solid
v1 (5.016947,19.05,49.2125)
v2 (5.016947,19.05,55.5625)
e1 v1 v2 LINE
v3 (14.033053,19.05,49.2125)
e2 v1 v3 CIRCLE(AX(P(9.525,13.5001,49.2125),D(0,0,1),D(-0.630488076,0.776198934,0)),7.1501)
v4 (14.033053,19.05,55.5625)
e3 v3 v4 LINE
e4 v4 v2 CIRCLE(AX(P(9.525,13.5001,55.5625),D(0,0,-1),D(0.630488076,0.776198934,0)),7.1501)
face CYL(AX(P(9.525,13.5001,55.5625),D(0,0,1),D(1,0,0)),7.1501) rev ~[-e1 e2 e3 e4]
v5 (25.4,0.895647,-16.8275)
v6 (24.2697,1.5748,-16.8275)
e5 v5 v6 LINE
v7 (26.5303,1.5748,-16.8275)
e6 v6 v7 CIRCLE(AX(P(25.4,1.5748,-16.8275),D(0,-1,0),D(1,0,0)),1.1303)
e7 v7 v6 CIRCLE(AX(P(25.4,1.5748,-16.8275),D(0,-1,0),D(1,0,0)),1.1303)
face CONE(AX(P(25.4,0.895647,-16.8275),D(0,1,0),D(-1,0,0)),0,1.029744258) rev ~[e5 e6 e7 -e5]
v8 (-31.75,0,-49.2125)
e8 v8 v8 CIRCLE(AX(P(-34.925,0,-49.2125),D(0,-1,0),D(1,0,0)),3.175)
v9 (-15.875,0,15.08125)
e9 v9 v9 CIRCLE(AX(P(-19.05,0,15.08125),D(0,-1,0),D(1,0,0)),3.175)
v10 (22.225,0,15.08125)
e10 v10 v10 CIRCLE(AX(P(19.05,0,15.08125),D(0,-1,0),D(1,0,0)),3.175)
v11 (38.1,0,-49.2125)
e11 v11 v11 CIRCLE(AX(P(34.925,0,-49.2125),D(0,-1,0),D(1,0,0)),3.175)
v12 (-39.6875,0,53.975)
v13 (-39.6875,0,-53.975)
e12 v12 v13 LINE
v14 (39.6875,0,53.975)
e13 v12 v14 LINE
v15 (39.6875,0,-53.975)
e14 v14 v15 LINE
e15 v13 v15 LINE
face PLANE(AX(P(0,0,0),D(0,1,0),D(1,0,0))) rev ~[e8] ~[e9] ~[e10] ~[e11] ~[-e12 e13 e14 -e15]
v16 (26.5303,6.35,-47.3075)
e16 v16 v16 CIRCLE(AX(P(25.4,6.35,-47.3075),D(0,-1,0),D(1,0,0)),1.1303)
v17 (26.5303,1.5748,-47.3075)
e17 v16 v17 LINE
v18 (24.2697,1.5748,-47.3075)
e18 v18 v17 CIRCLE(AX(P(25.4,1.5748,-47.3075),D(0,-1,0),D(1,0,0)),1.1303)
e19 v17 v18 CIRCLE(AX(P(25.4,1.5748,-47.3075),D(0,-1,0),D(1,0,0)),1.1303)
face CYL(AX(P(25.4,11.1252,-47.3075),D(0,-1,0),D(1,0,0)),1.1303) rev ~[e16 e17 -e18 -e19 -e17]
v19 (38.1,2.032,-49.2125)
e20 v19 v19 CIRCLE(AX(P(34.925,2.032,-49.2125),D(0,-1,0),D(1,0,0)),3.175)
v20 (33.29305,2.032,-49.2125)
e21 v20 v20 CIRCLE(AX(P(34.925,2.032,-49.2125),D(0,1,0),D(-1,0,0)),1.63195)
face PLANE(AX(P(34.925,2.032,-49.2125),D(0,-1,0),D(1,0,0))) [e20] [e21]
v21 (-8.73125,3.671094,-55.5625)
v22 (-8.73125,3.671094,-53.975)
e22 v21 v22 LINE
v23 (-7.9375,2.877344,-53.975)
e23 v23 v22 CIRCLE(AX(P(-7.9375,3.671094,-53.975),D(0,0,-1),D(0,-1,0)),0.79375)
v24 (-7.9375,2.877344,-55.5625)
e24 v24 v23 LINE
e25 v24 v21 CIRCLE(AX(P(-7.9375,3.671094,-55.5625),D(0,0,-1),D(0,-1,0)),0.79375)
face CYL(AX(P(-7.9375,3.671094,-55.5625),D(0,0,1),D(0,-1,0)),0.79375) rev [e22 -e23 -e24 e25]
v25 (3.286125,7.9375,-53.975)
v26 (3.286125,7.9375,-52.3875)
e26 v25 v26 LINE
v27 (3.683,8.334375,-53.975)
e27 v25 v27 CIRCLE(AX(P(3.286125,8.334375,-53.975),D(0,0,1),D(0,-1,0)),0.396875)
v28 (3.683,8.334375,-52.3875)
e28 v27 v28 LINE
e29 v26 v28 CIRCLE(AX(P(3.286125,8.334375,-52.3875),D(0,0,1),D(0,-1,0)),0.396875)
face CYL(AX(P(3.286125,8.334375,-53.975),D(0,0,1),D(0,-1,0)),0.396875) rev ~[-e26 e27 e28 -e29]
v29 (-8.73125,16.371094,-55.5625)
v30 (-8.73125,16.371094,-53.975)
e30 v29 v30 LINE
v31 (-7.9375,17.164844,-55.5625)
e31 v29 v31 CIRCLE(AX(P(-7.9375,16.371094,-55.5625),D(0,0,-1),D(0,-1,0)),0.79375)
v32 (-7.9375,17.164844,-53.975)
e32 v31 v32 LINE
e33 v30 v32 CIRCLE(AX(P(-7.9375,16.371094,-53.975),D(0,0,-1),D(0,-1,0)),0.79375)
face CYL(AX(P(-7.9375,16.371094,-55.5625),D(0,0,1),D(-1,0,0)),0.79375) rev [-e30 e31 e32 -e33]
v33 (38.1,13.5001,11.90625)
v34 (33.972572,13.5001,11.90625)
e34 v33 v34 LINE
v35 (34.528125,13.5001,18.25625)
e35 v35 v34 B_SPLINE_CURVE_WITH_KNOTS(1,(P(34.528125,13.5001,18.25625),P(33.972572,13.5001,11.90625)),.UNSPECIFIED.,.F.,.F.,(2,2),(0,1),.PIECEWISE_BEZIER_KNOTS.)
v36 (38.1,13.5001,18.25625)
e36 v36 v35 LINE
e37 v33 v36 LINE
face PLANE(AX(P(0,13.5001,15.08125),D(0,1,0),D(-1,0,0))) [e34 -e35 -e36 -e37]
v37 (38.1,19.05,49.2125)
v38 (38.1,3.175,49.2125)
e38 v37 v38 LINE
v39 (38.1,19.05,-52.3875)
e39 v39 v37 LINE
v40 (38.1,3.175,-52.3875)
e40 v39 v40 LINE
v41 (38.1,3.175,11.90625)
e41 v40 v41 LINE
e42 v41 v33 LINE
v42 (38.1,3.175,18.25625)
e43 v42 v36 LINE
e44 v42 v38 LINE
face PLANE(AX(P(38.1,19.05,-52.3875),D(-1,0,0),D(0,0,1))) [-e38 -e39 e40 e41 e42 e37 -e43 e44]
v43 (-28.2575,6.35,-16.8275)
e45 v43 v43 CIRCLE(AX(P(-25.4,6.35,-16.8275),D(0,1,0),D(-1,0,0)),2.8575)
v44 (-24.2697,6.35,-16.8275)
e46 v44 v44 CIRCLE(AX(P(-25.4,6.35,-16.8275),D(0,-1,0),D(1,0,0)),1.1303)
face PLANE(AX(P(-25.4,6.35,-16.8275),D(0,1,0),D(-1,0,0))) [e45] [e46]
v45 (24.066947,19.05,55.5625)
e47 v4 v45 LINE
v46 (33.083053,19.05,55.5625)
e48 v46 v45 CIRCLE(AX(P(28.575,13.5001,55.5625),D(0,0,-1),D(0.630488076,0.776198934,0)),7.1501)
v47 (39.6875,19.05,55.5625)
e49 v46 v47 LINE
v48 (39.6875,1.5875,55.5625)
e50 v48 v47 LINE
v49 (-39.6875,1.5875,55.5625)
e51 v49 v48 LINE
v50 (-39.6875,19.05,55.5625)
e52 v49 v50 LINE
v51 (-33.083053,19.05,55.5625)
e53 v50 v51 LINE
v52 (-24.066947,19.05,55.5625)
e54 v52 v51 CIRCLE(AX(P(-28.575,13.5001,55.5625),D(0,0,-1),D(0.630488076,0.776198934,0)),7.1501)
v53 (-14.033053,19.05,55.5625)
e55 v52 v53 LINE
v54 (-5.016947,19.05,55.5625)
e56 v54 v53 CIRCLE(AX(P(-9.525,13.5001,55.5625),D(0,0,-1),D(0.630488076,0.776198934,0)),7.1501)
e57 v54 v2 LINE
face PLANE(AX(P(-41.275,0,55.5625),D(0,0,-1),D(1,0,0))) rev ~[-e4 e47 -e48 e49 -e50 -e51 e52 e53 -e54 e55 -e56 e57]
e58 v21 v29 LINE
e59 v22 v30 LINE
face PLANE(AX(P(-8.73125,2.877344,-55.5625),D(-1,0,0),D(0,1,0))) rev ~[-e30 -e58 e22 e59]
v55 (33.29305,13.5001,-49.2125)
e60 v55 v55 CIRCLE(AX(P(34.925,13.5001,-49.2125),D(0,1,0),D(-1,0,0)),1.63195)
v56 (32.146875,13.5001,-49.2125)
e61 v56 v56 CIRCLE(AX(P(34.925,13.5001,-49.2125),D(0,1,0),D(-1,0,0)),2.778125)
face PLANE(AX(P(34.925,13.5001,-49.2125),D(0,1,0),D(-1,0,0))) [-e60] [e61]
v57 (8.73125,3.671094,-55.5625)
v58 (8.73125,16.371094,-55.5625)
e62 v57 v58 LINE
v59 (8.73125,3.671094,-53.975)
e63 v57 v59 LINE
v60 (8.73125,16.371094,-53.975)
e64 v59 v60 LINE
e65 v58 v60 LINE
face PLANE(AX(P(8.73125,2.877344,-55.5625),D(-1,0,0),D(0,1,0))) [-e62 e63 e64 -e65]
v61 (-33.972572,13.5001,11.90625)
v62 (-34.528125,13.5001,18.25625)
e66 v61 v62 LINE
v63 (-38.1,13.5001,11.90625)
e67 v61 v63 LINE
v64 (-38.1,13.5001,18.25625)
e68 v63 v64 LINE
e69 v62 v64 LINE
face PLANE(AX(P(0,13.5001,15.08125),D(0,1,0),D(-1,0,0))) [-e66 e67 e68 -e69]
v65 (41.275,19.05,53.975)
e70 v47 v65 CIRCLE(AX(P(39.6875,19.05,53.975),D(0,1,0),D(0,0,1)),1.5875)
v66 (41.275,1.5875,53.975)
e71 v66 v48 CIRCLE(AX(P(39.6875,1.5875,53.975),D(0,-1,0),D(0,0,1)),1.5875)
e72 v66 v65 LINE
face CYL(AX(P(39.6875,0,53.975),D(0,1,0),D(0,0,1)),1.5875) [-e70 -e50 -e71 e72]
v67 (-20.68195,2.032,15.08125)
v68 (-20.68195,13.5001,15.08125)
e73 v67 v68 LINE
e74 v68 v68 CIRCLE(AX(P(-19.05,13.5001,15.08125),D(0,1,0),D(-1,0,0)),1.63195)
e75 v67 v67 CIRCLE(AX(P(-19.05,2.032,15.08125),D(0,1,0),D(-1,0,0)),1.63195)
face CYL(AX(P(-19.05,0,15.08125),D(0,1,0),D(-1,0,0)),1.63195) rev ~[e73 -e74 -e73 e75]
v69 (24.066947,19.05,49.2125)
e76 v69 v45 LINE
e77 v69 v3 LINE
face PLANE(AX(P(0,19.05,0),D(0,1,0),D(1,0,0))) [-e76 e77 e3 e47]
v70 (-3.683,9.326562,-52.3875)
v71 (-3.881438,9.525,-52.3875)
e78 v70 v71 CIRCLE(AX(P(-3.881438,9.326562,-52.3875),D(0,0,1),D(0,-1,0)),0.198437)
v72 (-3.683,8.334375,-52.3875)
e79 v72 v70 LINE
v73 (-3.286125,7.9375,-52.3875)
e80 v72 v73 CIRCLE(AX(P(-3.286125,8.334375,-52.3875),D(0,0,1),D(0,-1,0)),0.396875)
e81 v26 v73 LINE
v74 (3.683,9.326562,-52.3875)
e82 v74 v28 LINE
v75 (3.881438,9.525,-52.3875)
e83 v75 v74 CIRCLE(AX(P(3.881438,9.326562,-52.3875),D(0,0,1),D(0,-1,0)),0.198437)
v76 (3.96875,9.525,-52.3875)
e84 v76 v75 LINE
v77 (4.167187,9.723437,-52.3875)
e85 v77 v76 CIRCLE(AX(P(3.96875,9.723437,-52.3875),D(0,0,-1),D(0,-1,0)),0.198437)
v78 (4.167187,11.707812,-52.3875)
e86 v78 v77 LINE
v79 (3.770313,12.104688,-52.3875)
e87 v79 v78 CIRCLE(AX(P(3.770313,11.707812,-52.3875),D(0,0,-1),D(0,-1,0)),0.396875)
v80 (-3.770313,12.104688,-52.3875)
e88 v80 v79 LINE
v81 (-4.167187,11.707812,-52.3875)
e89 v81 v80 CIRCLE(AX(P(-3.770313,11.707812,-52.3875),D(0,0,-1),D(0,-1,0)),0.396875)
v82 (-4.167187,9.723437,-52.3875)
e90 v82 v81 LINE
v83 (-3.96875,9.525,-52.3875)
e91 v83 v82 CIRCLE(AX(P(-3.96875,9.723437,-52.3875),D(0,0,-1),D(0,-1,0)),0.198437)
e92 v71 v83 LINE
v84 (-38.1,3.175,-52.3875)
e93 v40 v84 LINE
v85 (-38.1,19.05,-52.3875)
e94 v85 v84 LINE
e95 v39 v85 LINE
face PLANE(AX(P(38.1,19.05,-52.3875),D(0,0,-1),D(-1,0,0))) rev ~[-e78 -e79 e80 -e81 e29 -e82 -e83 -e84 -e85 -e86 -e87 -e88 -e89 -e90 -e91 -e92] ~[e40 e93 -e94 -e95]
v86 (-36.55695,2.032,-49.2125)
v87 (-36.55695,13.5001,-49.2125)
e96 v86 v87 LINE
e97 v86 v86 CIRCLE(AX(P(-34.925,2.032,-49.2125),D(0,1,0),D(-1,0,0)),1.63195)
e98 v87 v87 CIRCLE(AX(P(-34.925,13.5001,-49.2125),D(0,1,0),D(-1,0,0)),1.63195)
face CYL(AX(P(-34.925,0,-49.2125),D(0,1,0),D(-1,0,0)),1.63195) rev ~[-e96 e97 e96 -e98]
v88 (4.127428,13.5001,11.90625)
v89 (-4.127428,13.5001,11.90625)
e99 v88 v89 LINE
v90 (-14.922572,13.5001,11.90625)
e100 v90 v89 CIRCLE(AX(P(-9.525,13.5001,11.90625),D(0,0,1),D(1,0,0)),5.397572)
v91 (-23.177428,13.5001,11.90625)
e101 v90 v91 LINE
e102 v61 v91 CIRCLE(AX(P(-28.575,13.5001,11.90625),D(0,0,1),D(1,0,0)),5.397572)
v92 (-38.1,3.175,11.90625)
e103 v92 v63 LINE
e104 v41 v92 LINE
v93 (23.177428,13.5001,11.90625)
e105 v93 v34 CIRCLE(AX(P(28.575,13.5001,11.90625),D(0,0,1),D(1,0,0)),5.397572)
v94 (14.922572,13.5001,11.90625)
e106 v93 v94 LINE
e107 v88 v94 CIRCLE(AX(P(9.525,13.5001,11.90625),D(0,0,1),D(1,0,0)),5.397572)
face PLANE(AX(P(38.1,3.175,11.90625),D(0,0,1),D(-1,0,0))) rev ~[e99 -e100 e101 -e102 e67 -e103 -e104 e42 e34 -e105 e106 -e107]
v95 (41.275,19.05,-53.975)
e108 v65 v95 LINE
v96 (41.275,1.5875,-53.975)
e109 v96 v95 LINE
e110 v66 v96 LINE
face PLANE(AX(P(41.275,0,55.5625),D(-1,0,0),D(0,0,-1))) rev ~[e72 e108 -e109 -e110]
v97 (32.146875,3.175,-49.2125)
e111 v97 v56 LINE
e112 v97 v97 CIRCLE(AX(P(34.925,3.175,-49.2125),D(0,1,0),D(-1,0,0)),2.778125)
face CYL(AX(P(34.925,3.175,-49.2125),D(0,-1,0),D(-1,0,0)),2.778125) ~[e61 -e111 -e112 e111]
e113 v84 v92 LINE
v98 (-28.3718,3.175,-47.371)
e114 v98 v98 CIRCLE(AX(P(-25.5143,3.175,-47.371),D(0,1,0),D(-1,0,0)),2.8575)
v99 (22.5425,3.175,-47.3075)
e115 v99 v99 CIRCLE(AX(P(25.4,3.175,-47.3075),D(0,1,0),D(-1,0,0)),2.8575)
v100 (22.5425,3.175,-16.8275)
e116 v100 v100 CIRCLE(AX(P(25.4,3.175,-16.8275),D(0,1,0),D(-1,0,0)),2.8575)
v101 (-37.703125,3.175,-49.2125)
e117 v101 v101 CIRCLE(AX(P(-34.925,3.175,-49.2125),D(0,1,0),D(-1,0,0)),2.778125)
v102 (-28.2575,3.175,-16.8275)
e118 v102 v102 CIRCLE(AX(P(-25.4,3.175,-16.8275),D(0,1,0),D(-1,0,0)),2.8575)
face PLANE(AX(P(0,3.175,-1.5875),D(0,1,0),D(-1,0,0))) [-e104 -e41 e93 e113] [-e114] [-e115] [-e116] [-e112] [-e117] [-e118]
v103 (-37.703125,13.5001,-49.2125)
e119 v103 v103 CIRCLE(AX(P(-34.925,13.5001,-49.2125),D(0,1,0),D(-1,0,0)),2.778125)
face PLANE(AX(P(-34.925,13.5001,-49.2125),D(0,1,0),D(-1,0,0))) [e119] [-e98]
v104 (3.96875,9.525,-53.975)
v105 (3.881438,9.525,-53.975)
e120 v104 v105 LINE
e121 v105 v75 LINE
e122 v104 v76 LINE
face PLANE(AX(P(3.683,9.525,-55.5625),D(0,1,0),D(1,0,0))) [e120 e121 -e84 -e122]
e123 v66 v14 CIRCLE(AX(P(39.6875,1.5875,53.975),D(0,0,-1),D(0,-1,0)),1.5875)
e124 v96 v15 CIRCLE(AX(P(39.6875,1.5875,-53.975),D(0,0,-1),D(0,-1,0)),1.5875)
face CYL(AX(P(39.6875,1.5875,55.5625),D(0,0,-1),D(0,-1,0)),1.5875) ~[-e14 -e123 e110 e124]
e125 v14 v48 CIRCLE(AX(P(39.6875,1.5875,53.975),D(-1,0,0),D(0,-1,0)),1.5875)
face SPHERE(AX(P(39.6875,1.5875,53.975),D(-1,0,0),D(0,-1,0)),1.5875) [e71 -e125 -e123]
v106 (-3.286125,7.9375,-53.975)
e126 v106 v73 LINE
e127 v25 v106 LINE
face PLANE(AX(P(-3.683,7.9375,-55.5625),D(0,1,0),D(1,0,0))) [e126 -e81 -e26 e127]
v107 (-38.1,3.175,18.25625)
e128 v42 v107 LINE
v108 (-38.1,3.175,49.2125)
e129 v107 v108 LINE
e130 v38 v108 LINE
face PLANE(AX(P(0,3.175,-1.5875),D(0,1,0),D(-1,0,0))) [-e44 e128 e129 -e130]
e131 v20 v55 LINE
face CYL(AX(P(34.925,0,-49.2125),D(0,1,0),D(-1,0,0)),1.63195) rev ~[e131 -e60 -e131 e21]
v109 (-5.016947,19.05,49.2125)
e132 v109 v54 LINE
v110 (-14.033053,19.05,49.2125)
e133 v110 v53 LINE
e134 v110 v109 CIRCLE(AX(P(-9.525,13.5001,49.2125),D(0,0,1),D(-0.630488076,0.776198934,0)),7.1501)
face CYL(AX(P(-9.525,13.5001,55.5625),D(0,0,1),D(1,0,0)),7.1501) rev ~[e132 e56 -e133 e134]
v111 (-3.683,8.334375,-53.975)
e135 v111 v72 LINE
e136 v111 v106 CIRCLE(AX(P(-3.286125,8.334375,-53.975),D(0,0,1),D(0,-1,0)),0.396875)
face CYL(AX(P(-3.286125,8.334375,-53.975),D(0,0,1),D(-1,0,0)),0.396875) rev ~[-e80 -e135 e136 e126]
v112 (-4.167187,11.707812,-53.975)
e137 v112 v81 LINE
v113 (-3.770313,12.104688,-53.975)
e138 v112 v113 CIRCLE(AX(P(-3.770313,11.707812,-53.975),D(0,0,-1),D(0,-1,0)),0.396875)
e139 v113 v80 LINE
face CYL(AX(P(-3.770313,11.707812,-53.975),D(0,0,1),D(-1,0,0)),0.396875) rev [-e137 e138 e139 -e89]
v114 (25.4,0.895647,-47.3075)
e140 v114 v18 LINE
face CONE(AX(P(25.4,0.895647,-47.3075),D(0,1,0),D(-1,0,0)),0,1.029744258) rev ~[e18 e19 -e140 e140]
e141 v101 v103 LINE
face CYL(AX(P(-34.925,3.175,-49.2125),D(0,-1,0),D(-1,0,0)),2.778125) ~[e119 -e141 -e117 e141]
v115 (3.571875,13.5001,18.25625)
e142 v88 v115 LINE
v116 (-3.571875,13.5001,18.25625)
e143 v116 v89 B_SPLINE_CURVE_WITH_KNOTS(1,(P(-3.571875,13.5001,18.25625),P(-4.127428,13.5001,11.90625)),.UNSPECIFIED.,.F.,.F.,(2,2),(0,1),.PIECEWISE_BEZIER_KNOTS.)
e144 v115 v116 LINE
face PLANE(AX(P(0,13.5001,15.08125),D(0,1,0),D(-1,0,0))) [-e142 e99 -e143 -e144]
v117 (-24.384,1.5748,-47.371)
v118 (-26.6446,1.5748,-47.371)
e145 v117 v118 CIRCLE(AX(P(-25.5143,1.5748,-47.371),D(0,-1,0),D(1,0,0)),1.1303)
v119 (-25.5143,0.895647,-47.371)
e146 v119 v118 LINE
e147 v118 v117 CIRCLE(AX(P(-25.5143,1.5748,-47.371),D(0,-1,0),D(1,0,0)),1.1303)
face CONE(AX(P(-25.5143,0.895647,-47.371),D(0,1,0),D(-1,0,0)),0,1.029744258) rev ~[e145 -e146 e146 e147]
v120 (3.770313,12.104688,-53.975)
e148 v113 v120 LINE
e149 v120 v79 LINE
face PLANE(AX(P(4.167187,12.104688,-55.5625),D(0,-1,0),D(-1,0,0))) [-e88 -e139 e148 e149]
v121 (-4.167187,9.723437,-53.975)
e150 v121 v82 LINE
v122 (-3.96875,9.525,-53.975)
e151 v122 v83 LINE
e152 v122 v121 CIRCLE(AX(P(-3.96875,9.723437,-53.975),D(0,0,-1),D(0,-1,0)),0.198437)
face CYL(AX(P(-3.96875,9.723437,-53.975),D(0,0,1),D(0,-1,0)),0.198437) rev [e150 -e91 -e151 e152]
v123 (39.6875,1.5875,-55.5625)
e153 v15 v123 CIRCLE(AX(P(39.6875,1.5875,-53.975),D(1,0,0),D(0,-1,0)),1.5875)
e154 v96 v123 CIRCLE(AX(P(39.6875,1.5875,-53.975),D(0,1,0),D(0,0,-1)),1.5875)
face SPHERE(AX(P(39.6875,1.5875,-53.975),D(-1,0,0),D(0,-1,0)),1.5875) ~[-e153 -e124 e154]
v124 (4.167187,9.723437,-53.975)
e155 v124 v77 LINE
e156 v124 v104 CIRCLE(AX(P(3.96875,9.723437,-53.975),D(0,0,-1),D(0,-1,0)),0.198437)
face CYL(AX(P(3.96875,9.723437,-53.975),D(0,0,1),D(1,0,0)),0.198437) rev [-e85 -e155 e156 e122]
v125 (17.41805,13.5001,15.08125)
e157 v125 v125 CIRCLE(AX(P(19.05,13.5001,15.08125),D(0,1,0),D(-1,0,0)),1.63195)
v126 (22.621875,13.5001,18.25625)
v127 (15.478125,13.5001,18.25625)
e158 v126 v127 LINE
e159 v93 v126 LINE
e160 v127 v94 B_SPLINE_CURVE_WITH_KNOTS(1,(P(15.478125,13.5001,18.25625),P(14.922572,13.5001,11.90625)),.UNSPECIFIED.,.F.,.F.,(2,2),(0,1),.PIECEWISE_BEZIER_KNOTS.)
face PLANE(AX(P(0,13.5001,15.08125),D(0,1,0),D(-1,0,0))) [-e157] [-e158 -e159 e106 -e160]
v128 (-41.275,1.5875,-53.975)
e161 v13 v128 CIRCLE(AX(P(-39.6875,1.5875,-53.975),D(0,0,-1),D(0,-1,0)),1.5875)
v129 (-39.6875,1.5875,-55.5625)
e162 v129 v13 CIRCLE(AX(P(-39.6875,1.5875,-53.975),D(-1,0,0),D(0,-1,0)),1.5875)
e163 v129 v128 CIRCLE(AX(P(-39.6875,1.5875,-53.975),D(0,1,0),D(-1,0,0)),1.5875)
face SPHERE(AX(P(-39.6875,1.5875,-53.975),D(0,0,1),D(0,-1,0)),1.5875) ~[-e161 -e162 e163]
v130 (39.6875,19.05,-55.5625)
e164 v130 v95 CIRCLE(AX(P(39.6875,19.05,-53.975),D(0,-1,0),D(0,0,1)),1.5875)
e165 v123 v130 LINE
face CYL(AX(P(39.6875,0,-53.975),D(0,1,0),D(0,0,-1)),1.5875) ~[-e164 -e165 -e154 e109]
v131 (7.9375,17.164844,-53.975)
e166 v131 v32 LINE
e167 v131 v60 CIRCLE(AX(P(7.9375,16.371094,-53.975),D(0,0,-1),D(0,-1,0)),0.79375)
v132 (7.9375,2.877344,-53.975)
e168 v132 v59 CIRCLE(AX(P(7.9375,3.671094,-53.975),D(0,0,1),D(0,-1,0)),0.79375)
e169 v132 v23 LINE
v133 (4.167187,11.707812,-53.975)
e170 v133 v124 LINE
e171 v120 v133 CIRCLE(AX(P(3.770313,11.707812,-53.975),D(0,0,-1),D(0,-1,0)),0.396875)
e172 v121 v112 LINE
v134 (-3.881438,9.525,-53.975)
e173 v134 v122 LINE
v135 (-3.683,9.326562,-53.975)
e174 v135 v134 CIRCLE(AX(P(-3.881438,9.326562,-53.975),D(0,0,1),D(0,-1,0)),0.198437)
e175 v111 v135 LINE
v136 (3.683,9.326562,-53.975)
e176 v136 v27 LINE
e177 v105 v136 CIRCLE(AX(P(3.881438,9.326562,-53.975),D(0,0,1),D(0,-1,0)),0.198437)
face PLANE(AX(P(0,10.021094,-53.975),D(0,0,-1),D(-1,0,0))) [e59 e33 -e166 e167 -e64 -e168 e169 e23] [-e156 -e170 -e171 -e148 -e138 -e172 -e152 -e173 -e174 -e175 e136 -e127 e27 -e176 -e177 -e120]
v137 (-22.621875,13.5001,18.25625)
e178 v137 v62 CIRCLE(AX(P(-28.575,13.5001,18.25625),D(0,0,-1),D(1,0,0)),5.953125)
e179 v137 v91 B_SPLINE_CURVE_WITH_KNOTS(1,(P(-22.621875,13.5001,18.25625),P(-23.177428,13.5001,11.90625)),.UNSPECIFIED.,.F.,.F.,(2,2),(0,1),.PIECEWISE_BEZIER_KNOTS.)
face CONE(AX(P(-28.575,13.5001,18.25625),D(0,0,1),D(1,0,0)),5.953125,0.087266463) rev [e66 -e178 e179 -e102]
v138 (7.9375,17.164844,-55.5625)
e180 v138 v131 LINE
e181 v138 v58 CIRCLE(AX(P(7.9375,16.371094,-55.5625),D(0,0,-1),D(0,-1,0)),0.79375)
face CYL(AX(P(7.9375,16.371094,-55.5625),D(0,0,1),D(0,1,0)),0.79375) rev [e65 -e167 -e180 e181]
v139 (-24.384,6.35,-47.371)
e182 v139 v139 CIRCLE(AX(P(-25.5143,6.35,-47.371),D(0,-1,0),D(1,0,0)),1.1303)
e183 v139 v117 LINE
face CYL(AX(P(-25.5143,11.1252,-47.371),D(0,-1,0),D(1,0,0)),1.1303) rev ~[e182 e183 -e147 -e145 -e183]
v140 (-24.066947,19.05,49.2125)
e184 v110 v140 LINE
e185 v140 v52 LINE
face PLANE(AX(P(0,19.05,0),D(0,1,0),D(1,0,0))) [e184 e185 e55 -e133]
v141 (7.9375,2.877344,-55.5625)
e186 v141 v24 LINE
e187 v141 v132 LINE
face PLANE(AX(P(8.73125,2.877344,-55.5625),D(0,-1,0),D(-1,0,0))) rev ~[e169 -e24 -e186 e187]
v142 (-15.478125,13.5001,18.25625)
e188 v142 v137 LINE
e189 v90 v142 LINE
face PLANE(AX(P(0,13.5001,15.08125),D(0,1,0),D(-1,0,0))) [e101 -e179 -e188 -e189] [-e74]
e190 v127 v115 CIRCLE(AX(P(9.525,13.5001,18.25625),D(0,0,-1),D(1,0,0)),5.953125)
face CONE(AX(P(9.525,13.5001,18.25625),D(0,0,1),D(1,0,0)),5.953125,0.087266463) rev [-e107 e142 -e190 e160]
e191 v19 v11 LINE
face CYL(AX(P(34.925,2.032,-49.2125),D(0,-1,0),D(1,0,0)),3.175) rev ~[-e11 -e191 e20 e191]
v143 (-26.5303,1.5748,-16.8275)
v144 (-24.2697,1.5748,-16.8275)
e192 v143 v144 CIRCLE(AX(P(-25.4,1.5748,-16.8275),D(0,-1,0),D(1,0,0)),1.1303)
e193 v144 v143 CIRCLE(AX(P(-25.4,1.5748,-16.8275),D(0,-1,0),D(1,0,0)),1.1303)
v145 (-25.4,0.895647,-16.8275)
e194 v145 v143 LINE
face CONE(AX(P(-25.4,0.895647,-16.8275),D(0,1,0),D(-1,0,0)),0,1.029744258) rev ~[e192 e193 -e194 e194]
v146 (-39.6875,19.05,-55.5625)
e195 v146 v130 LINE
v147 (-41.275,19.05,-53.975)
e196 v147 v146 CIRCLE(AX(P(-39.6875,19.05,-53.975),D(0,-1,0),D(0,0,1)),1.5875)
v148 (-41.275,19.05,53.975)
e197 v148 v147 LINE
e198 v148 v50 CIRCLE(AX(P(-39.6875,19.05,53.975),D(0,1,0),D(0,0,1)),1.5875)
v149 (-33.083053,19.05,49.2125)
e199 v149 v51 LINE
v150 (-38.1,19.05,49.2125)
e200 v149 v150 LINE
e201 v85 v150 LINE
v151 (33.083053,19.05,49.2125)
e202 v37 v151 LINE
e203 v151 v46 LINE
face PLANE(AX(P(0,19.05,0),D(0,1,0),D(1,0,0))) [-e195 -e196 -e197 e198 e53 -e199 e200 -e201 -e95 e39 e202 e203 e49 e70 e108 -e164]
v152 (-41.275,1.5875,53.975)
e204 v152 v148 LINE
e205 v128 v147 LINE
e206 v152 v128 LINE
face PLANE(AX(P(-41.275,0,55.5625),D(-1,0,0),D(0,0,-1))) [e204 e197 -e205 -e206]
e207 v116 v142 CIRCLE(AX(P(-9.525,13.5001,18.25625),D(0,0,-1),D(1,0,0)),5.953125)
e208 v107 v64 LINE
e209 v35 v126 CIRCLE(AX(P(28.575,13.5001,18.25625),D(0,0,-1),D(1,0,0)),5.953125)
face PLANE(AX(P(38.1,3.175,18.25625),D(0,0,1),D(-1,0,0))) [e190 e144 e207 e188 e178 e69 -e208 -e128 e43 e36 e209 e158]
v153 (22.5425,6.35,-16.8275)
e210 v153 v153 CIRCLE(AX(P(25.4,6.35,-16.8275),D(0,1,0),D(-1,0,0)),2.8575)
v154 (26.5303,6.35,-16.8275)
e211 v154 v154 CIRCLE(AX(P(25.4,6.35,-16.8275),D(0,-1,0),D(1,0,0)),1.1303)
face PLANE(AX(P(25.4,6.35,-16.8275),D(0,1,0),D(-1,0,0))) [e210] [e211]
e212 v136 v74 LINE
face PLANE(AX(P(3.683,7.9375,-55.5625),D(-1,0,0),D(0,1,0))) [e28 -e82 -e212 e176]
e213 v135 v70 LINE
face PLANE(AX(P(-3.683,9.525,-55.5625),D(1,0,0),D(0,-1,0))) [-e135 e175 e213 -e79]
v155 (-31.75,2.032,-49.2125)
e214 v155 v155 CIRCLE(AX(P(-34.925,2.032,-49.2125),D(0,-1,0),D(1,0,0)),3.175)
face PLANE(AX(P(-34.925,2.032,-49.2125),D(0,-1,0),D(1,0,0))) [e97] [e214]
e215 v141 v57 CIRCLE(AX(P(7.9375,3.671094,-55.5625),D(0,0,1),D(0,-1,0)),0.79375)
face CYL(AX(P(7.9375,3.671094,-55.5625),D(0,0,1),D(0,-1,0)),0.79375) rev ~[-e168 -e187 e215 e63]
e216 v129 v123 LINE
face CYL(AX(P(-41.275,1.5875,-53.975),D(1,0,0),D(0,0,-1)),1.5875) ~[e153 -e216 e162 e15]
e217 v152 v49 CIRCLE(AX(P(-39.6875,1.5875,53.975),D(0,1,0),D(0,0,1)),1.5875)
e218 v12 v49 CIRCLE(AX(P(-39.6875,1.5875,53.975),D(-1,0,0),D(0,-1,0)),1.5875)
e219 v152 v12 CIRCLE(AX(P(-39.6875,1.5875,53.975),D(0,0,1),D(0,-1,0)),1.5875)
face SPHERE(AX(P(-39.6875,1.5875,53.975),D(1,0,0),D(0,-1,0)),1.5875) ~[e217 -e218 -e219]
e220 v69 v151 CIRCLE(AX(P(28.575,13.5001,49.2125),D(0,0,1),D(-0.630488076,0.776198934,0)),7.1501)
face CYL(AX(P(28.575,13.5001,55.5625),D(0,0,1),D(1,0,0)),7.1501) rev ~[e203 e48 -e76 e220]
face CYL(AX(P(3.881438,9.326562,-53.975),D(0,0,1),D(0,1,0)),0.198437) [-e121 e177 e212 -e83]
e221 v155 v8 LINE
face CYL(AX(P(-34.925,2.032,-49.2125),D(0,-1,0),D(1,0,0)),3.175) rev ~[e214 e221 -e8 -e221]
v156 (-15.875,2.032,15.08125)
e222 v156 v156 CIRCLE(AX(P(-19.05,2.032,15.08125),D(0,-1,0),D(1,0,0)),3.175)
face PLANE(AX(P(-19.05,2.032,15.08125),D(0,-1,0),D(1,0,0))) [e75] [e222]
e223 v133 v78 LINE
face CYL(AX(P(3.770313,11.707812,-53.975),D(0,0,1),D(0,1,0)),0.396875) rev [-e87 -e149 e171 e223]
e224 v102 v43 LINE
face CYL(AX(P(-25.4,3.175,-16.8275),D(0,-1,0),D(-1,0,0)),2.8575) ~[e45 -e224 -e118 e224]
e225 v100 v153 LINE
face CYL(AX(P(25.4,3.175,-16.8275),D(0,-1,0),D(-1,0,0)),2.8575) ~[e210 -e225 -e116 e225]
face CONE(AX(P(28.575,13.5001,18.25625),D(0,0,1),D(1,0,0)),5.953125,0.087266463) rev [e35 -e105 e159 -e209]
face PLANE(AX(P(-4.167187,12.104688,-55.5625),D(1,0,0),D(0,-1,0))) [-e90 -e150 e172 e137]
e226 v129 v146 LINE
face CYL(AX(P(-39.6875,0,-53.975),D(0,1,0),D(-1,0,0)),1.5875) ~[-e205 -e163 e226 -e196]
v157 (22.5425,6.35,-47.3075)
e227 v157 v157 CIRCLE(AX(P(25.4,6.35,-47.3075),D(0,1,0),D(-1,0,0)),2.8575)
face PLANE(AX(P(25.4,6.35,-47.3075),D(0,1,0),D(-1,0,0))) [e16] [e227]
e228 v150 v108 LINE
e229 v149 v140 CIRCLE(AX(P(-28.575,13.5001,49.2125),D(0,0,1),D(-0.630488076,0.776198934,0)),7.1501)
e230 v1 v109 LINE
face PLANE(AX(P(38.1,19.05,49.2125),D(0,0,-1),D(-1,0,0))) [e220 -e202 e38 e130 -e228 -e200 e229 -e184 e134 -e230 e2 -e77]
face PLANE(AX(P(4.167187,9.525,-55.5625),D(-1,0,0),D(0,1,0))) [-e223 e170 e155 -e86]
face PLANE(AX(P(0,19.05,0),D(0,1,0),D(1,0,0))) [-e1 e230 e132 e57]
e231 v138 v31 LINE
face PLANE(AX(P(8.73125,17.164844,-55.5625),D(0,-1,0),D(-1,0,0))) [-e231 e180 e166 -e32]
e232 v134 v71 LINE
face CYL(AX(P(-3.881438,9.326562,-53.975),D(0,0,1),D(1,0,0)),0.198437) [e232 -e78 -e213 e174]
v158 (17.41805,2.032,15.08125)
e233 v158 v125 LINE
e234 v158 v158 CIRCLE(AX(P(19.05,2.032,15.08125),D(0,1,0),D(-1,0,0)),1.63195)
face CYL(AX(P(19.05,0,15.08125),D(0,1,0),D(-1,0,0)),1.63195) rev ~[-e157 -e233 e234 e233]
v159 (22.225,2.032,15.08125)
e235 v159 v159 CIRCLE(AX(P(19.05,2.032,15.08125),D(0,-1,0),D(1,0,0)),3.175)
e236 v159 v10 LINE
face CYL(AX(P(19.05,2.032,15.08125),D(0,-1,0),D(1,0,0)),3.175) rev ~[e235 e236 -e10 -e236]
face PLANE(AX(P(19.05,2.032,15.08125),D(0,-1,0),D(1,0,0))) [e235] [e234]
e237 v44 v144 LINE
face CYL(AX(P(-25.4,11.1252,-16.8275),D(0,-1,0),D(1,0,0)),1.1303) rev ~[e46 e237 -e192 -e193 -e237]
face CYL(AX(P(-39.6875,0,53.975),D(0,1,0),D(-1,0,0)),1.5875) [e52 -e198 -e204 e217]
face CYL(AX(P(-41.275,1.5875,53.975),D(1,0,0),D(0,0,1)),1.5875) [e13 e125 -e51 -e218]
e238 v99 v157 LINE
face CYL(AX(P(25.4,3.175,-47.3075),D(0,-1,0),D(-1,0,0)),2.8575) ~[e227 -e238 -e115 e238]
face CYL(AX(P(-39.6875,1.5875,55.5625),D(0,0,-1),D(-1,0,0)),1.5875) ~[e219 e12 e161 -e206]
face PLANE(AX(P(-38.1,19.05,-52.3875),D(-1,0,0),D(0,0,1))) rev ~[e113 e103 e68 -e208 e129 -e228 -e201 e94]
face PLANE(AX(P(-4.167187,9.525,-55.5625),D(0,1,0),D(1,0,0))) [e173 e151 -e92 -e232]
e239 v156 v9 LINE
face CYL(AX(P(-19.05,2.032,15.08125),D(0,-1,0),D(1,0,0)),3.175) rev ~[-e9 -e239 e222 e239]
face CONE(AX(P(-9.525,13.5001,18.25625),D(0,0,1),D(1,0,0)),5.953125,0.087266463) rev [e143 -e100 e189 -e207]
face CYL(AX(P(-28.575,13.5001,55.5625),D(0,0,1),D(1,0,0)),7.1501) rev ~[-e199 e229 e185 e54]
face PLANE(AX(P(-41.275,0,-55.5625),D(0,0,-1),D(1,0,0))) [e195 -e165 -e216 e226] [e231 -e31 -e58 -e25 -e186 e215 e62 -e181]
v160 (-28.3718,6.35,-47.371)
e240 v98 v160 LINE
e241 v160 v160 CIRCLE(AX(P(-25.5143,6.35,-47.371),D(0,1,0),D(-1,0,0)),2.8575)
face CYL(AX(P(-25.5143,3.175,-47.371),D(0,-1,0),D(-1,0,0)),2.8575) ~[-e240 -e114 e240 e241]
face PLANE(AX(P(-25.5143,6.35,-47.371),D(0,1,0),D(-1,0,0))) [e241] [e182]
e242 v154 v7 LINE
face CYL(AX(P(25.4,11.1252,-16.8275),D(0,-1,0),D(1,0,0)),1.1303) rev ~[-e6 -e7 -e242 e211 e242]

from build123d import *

# Parameters (mm, degrees)
SKETCH1_W                                       = 82.55
SKETCH1_H                                       = 111.125
BOSS_EXTRUDE1_DEPTH                             = 19.05
SKETCH14_W                                      = 76.2
SKETCH14_H                                      = 101.6
CUT_EXTRUDE3_DEPTH                              = 15.875
CUT_EXTRUDE4_REACH                              = 113.125
SKETCH11_R                                      = 7.1501
SKETCH17_R                                      = 2.778125
SKETCH17_W                                      = 76.2
SKETCH17_H                                      = 6.35
BOSS_EXTRUDE4_DEPTH                             = 10.3251
SKETCH18_R                                      = 5.953125
CUT_EXTRUDE5_DEPTH                              = 6.35
CUT_EXTRUDE5_TAPER                              = 5
CUT_EXTRUDE7_REACH                              = 113.125
FILLET6_R                                       = 1.5875
SKETCH19_R                                      = 2.8575
BOSS_EXTRUDE8_DEPTH                             = 3.175
CBORE_FOR_4_PAN_HEAD_MACHINE_SCREW3_D           = 3.2639
CBORE_FOR_4_PAN_HEAD_MACHINE_SCREW3_CBORE_D     = 6.35
CBORE_FOR_4_PAN_HEAD_MACHINE_SCREW3_CBORE_DEPTH = 2.032
F_4_40_TAPPED_HOLE1_D                           = 2.2606
F_4_40_TAPPED_HOLE1_DEPTH                       = 4.7752
F_4_40_TAPPED_HOLE1_TIP                         = 0.679152758
SKETCH39_W                                      = 17.4625
SKETCH39_H                                      = 14.2875
CUT_EXTRUDE8_DEPTH                              = 1.5875
FILLET7_R                                       = 0.79375
FILLET8_R                                       = 0.1984375
FILLET9_R                                       = 0.396875


with BuildPart() as part:
    # Sketch1 → Boss-Extrude1 (new body)
    with BuildSketch(Plane(origin=(0, 0, 0), x_dir=(1, 0, 0), z_dir=(0, 1, 0))):
        Rectangle(SKETCH1_W, SKETCH1_H)
    extrude(amount=BOSS_EXTRUDE1_DEPTH)

    # Sketch14 → Cut-Extrude3 (cut)
    with BuildSketch(Plane(origin=(0, 19.05, 0), x_dir=(-1, 0, 0), z_dir=(0, 1, 0))):
        with Locations((0, -1.5875)):
            Rectangle(SKETCH14_W, SKETCH14_H)
    extrude(amount=-CUT_EXTRUDE3_DEPTH, mode=Mode.SUBTRACT)

    # Sketch11 → Cut-Extrude4 (cut, up to next)
    with BuildSketch(Plane.XY.offset(55.5625), mode=Mode.PRIVATE) as cut_extrude4_sk1:
        with Locations((-28.575, 13.5001)):
            Circle(SKETCH11_R)
    cut_extrude4_tool1 = extrude(cut_extrude4_sk1.sketch, amount=-CUT_EXTRUDE4_REACH, mode=Mode.PRIVATE) & part.part
    add(cut_extrude4_tool1.solids().sort_by_distance((-28.575, 13.5001, 55.5625))[0], mode=Mode.SUBTRACT)
    # Sketch11 → Cut-Extrude4 (cut, up to next)
    with BuildSketch(Plane.XY.offset(55.5625), mode=Mode.PRIVATE) as cut_extrude4_sk2:
        with Locations((-9.525, 13.5001)):
            Circle(SKETCH11_R)
    cut_extrude4_tool2 = extrude(cut_extrude4_sk2.sketch, amount=-CUT_EXTRUDE4_REACH, mode=Mode.PRIVATE) & part.part
    add(cut_extrude4_tool2.solids().sort_by_distance((-9.525, 13.5001, 55.5625))[0], mode=Mode.SUBTRACT)
    # Sketch11 → Cut-Extrude4 (cut, up to next)
    with BuildSketch(Plane.XY.offset(55.5625), mode=Mode.PRIVATE) as cut_extrude4_sk3:
        with Locations((9.525, 13.5001)):
            Circle(SKETCH11_R)
    cut_extrude4_tool3 = extrude(cut_extrude4_sk3.sketch, amount=-CUT_EXTRUDE4_REACH, mode=Mode.PRIVATE) & part.part
    add(cut_extrude4_tool3.solids().sort_by_distance((9.525, 13.5001, 55.5625))[0], mode=Mode.SUBTRACT)
    # Sketch11 → Cut-Extrude4 (cut, up to next)
    with BuildSketch(Plane.XY.offset(55.5625), mode=Mode.PRIVATE) as cut_extrude4_sk4:
        with Locations((28.575, 13.5001)):
            Circle(SKETCH11_R)
    cut_extrude4_tool4 = extrude(cut_extrude4_sk4.sketch, amount=-CUT_EXTRUDE4_REACH, mode=Mode.PRIVATE) & part.part
    add(cut_extrude4_tool4.solids().sort_by_distance((28.575, 13.5001, 55.5625))[0], mode=Mode.SUBTRACT)

    # Sketch17 → Boss-Extrude4 (add)
    with BuildSketch(Plane(origin=(0, 3.175, 0), x_dir=(-1, 0, 0), z_dir=(0, 1, 0))):
        with Locations((34.925, -49.2125)):
            Circle(SKETCH17_R)
        with Locations((-34.925, -49.2125)):
            Circle(SKETCH17_R)
        with Locations((0, 15.08125)):
            Rectangle(SKETCH17_W, SKETCH17_H)
    extrude(amount=BOSS_EXTRUDE4_DEPTH)

    # Sketch18 → Cut-Extrude5 (cut)
    with BuildSketch(Plane.XY.offset(18.25625)):
        with Locations((-28.575, 13.5001)):
            Circle(SKETCH18_R)
        with Locations((-9.525, 13.5001)):
            Circle(SKETCH18_R)
        with Locations((9.525, 13.5001)):
            Circle(SKETCH18_R)
        with Locations((28.575, 13.5001)):
            Circle(SKETCH18_R)
    extrude(amount=-CUT_EXTRUDE5_DEPTH, taper=CUT_EXTRUDE5_TAPER, mode=Mode.SUBTRACT)

    # Sketch21 → Cut-Extrude7 (cut, up to next)
    with BuildSketch(Plane(origin=(0, 0, -55.5625), x_dir=(-1, 0, 0), z_dir=(0, 0, -1)), mode=Mode.PRIVATE) as cut_extrude7_sk1:
        Polygon((-3.683, 7.9375), (-3.683, 9.525), (-4.1671875, 9.525), (-4.1671875, 12.1046875), (4.1671875, 12.1046875), (4.1671875, 9.525), (3.683, 9.525), (3.683, 7.9375), align=None)
    cut_extrude7_tool1 = extrude(cut_extrude7_sk1.sketch, amount=-CUT_EXTRUDE7_REACH, mode=Mode.PRIVATE) & part.part
    add(cut_extrude7_tool1.solids().sort_by_distance((0, 10.08083, -55.5625))[0], mode=Mode.SUBTRACT)

    # Fillet6
    fillet6_edges = [part.edges().sort_by_distance(p)[0] for p in [
        (0, 0, 55.5625),
        (-41.275, 0, 0),
        (0, 0, -55.5625),
        (41.275, 0, 0),
        (41.275, 9.525, 55.5625),
        (-41.275, 9.525, 55.5625),
        (-41.275, 9.525, -55.5625),
        (41.275, 9.525, -55.5625),
    ]]
    fillet(fillet6_edges, radius=FILLET6_R)

    # Sketch19 → Boss-Extrude8 (add)
    with BuildSketch(Plane(origin=(0, 3.175, 0), x_dir=(-1, 0, 0), z_dir=(0, 1, 0))):
        with Locations((25.5143, -47.371)):
            Circle(SKETCH19_R)
        with Locations((-25.4, -47.3075)):
            Circle(SKETCH19_R)
        with Locations((25.4, -16.8275)):
            Circle(SKETCH19_R)
        with Locations((-25.4, -16.8275)):
            Circle(SKETCH19_R)
    extrude(amount=BOSS_EXTRUDE8_DEPTH)

    # CBORE for #4 Pan Head Machine Screw3 (through all)
    with Locations(Plane.XZ):
        with Locations((-19.05, 15.08125), (19.05, 15.08125), (-34.925, -49.2125), (34.925, -49.2125)):
            CounterBoreHole(CBORE_FOR_4_PAN_HEAD_MACHINE_SCREW3_D / 2, CBORE_FOR_4_PAN_HEAD_MACHINE_SCREW3_CBORE_D / 2, CBORE_FOR_4_PAN_HEAD_MACHINE_SCREW3_CBORE_DEPTH)

    # #4-40 Tapped Hole1
    with Locations(Plane(origin=(0, 6.35, 0), x_dir=(-1, 0, 0), z_dir=(0, 1, 0))):
        with Locations((25.5143, -47.371), (25.4, -16.8275), (-25.4, -16.8275), (-25.4, -47.3075)):
            Hole(F_4_40_TAPPED_HOLE1_D / 2, depth=F_4_40_TAPPED_HOLE1_DEPTH)
            with Locations((0, 0, -(F_4_40_TAPPED_HOLE1_DEPTH + F_4_40_TAPPED_HOLE1_TIP / 2))):  # 118° drill point
                Cone(0, F_4_40_TAPPED_HOLE1_D / 2, F_4_40_TAPPED_HOLE1_TIP, mode=Mode.SUBTRACT)

    # Sketch39 → Cut-Extrude8 (cut)
    with BuildSketch(Plane(origin=(0, 0, -55.5625), x_dir=(-1, 0, 0), z_dir=(0, 0, -1))):
        with Locations((0, 10.02109375)):
            Rectangle(SKETCH39_W, SKETCH39_H)
    extrude(amount=-CUT_EXTRUDE8_DEPTH, mode=Mode.SUBTRACT)

    # Fillet7
    fillet7_edges = [part.edges().sort_by_distance(p)[0] for p in [
        (-8.73125, 17.16484375, -54.76875),
        (-8.73125, 2.87734375, -54.76875),
        (8.73125, 2.87734375, -54.76875),
        (8.73125, 17.16484375, -54.76875),
    ]]
    fillet(fillet7_edges, radius=FILLET7_R)

    # Fillet8
    fillet8_edges = [part.edges().sort_by_distance(p)[0] for p in [
        (3.683, 9.525, -53.18125),
        (4.1671875, 9.525, -53.18125),
        (-4.1671875, 9.525, -53.18125),
        (-3.683, 9.525, -53.18125),
    ]]
    fillet(fillet8_edges, radius=FILLET8_R)

    # Fillet9
    fillet9_edges = [part.edges().sort_by_distance(p)[0] for p in [
        (-3.683, 7.9375, -53.18125),
        (3.683, 7.9375, -53.18125),
        (4.1671875, 12.1046875, -53.18125),
        (-4.1671875, 12.1046875, -53.18125),
    ]]
    fillet(fillet9_edges, radius=FILLET9_R)


solid = part.part
